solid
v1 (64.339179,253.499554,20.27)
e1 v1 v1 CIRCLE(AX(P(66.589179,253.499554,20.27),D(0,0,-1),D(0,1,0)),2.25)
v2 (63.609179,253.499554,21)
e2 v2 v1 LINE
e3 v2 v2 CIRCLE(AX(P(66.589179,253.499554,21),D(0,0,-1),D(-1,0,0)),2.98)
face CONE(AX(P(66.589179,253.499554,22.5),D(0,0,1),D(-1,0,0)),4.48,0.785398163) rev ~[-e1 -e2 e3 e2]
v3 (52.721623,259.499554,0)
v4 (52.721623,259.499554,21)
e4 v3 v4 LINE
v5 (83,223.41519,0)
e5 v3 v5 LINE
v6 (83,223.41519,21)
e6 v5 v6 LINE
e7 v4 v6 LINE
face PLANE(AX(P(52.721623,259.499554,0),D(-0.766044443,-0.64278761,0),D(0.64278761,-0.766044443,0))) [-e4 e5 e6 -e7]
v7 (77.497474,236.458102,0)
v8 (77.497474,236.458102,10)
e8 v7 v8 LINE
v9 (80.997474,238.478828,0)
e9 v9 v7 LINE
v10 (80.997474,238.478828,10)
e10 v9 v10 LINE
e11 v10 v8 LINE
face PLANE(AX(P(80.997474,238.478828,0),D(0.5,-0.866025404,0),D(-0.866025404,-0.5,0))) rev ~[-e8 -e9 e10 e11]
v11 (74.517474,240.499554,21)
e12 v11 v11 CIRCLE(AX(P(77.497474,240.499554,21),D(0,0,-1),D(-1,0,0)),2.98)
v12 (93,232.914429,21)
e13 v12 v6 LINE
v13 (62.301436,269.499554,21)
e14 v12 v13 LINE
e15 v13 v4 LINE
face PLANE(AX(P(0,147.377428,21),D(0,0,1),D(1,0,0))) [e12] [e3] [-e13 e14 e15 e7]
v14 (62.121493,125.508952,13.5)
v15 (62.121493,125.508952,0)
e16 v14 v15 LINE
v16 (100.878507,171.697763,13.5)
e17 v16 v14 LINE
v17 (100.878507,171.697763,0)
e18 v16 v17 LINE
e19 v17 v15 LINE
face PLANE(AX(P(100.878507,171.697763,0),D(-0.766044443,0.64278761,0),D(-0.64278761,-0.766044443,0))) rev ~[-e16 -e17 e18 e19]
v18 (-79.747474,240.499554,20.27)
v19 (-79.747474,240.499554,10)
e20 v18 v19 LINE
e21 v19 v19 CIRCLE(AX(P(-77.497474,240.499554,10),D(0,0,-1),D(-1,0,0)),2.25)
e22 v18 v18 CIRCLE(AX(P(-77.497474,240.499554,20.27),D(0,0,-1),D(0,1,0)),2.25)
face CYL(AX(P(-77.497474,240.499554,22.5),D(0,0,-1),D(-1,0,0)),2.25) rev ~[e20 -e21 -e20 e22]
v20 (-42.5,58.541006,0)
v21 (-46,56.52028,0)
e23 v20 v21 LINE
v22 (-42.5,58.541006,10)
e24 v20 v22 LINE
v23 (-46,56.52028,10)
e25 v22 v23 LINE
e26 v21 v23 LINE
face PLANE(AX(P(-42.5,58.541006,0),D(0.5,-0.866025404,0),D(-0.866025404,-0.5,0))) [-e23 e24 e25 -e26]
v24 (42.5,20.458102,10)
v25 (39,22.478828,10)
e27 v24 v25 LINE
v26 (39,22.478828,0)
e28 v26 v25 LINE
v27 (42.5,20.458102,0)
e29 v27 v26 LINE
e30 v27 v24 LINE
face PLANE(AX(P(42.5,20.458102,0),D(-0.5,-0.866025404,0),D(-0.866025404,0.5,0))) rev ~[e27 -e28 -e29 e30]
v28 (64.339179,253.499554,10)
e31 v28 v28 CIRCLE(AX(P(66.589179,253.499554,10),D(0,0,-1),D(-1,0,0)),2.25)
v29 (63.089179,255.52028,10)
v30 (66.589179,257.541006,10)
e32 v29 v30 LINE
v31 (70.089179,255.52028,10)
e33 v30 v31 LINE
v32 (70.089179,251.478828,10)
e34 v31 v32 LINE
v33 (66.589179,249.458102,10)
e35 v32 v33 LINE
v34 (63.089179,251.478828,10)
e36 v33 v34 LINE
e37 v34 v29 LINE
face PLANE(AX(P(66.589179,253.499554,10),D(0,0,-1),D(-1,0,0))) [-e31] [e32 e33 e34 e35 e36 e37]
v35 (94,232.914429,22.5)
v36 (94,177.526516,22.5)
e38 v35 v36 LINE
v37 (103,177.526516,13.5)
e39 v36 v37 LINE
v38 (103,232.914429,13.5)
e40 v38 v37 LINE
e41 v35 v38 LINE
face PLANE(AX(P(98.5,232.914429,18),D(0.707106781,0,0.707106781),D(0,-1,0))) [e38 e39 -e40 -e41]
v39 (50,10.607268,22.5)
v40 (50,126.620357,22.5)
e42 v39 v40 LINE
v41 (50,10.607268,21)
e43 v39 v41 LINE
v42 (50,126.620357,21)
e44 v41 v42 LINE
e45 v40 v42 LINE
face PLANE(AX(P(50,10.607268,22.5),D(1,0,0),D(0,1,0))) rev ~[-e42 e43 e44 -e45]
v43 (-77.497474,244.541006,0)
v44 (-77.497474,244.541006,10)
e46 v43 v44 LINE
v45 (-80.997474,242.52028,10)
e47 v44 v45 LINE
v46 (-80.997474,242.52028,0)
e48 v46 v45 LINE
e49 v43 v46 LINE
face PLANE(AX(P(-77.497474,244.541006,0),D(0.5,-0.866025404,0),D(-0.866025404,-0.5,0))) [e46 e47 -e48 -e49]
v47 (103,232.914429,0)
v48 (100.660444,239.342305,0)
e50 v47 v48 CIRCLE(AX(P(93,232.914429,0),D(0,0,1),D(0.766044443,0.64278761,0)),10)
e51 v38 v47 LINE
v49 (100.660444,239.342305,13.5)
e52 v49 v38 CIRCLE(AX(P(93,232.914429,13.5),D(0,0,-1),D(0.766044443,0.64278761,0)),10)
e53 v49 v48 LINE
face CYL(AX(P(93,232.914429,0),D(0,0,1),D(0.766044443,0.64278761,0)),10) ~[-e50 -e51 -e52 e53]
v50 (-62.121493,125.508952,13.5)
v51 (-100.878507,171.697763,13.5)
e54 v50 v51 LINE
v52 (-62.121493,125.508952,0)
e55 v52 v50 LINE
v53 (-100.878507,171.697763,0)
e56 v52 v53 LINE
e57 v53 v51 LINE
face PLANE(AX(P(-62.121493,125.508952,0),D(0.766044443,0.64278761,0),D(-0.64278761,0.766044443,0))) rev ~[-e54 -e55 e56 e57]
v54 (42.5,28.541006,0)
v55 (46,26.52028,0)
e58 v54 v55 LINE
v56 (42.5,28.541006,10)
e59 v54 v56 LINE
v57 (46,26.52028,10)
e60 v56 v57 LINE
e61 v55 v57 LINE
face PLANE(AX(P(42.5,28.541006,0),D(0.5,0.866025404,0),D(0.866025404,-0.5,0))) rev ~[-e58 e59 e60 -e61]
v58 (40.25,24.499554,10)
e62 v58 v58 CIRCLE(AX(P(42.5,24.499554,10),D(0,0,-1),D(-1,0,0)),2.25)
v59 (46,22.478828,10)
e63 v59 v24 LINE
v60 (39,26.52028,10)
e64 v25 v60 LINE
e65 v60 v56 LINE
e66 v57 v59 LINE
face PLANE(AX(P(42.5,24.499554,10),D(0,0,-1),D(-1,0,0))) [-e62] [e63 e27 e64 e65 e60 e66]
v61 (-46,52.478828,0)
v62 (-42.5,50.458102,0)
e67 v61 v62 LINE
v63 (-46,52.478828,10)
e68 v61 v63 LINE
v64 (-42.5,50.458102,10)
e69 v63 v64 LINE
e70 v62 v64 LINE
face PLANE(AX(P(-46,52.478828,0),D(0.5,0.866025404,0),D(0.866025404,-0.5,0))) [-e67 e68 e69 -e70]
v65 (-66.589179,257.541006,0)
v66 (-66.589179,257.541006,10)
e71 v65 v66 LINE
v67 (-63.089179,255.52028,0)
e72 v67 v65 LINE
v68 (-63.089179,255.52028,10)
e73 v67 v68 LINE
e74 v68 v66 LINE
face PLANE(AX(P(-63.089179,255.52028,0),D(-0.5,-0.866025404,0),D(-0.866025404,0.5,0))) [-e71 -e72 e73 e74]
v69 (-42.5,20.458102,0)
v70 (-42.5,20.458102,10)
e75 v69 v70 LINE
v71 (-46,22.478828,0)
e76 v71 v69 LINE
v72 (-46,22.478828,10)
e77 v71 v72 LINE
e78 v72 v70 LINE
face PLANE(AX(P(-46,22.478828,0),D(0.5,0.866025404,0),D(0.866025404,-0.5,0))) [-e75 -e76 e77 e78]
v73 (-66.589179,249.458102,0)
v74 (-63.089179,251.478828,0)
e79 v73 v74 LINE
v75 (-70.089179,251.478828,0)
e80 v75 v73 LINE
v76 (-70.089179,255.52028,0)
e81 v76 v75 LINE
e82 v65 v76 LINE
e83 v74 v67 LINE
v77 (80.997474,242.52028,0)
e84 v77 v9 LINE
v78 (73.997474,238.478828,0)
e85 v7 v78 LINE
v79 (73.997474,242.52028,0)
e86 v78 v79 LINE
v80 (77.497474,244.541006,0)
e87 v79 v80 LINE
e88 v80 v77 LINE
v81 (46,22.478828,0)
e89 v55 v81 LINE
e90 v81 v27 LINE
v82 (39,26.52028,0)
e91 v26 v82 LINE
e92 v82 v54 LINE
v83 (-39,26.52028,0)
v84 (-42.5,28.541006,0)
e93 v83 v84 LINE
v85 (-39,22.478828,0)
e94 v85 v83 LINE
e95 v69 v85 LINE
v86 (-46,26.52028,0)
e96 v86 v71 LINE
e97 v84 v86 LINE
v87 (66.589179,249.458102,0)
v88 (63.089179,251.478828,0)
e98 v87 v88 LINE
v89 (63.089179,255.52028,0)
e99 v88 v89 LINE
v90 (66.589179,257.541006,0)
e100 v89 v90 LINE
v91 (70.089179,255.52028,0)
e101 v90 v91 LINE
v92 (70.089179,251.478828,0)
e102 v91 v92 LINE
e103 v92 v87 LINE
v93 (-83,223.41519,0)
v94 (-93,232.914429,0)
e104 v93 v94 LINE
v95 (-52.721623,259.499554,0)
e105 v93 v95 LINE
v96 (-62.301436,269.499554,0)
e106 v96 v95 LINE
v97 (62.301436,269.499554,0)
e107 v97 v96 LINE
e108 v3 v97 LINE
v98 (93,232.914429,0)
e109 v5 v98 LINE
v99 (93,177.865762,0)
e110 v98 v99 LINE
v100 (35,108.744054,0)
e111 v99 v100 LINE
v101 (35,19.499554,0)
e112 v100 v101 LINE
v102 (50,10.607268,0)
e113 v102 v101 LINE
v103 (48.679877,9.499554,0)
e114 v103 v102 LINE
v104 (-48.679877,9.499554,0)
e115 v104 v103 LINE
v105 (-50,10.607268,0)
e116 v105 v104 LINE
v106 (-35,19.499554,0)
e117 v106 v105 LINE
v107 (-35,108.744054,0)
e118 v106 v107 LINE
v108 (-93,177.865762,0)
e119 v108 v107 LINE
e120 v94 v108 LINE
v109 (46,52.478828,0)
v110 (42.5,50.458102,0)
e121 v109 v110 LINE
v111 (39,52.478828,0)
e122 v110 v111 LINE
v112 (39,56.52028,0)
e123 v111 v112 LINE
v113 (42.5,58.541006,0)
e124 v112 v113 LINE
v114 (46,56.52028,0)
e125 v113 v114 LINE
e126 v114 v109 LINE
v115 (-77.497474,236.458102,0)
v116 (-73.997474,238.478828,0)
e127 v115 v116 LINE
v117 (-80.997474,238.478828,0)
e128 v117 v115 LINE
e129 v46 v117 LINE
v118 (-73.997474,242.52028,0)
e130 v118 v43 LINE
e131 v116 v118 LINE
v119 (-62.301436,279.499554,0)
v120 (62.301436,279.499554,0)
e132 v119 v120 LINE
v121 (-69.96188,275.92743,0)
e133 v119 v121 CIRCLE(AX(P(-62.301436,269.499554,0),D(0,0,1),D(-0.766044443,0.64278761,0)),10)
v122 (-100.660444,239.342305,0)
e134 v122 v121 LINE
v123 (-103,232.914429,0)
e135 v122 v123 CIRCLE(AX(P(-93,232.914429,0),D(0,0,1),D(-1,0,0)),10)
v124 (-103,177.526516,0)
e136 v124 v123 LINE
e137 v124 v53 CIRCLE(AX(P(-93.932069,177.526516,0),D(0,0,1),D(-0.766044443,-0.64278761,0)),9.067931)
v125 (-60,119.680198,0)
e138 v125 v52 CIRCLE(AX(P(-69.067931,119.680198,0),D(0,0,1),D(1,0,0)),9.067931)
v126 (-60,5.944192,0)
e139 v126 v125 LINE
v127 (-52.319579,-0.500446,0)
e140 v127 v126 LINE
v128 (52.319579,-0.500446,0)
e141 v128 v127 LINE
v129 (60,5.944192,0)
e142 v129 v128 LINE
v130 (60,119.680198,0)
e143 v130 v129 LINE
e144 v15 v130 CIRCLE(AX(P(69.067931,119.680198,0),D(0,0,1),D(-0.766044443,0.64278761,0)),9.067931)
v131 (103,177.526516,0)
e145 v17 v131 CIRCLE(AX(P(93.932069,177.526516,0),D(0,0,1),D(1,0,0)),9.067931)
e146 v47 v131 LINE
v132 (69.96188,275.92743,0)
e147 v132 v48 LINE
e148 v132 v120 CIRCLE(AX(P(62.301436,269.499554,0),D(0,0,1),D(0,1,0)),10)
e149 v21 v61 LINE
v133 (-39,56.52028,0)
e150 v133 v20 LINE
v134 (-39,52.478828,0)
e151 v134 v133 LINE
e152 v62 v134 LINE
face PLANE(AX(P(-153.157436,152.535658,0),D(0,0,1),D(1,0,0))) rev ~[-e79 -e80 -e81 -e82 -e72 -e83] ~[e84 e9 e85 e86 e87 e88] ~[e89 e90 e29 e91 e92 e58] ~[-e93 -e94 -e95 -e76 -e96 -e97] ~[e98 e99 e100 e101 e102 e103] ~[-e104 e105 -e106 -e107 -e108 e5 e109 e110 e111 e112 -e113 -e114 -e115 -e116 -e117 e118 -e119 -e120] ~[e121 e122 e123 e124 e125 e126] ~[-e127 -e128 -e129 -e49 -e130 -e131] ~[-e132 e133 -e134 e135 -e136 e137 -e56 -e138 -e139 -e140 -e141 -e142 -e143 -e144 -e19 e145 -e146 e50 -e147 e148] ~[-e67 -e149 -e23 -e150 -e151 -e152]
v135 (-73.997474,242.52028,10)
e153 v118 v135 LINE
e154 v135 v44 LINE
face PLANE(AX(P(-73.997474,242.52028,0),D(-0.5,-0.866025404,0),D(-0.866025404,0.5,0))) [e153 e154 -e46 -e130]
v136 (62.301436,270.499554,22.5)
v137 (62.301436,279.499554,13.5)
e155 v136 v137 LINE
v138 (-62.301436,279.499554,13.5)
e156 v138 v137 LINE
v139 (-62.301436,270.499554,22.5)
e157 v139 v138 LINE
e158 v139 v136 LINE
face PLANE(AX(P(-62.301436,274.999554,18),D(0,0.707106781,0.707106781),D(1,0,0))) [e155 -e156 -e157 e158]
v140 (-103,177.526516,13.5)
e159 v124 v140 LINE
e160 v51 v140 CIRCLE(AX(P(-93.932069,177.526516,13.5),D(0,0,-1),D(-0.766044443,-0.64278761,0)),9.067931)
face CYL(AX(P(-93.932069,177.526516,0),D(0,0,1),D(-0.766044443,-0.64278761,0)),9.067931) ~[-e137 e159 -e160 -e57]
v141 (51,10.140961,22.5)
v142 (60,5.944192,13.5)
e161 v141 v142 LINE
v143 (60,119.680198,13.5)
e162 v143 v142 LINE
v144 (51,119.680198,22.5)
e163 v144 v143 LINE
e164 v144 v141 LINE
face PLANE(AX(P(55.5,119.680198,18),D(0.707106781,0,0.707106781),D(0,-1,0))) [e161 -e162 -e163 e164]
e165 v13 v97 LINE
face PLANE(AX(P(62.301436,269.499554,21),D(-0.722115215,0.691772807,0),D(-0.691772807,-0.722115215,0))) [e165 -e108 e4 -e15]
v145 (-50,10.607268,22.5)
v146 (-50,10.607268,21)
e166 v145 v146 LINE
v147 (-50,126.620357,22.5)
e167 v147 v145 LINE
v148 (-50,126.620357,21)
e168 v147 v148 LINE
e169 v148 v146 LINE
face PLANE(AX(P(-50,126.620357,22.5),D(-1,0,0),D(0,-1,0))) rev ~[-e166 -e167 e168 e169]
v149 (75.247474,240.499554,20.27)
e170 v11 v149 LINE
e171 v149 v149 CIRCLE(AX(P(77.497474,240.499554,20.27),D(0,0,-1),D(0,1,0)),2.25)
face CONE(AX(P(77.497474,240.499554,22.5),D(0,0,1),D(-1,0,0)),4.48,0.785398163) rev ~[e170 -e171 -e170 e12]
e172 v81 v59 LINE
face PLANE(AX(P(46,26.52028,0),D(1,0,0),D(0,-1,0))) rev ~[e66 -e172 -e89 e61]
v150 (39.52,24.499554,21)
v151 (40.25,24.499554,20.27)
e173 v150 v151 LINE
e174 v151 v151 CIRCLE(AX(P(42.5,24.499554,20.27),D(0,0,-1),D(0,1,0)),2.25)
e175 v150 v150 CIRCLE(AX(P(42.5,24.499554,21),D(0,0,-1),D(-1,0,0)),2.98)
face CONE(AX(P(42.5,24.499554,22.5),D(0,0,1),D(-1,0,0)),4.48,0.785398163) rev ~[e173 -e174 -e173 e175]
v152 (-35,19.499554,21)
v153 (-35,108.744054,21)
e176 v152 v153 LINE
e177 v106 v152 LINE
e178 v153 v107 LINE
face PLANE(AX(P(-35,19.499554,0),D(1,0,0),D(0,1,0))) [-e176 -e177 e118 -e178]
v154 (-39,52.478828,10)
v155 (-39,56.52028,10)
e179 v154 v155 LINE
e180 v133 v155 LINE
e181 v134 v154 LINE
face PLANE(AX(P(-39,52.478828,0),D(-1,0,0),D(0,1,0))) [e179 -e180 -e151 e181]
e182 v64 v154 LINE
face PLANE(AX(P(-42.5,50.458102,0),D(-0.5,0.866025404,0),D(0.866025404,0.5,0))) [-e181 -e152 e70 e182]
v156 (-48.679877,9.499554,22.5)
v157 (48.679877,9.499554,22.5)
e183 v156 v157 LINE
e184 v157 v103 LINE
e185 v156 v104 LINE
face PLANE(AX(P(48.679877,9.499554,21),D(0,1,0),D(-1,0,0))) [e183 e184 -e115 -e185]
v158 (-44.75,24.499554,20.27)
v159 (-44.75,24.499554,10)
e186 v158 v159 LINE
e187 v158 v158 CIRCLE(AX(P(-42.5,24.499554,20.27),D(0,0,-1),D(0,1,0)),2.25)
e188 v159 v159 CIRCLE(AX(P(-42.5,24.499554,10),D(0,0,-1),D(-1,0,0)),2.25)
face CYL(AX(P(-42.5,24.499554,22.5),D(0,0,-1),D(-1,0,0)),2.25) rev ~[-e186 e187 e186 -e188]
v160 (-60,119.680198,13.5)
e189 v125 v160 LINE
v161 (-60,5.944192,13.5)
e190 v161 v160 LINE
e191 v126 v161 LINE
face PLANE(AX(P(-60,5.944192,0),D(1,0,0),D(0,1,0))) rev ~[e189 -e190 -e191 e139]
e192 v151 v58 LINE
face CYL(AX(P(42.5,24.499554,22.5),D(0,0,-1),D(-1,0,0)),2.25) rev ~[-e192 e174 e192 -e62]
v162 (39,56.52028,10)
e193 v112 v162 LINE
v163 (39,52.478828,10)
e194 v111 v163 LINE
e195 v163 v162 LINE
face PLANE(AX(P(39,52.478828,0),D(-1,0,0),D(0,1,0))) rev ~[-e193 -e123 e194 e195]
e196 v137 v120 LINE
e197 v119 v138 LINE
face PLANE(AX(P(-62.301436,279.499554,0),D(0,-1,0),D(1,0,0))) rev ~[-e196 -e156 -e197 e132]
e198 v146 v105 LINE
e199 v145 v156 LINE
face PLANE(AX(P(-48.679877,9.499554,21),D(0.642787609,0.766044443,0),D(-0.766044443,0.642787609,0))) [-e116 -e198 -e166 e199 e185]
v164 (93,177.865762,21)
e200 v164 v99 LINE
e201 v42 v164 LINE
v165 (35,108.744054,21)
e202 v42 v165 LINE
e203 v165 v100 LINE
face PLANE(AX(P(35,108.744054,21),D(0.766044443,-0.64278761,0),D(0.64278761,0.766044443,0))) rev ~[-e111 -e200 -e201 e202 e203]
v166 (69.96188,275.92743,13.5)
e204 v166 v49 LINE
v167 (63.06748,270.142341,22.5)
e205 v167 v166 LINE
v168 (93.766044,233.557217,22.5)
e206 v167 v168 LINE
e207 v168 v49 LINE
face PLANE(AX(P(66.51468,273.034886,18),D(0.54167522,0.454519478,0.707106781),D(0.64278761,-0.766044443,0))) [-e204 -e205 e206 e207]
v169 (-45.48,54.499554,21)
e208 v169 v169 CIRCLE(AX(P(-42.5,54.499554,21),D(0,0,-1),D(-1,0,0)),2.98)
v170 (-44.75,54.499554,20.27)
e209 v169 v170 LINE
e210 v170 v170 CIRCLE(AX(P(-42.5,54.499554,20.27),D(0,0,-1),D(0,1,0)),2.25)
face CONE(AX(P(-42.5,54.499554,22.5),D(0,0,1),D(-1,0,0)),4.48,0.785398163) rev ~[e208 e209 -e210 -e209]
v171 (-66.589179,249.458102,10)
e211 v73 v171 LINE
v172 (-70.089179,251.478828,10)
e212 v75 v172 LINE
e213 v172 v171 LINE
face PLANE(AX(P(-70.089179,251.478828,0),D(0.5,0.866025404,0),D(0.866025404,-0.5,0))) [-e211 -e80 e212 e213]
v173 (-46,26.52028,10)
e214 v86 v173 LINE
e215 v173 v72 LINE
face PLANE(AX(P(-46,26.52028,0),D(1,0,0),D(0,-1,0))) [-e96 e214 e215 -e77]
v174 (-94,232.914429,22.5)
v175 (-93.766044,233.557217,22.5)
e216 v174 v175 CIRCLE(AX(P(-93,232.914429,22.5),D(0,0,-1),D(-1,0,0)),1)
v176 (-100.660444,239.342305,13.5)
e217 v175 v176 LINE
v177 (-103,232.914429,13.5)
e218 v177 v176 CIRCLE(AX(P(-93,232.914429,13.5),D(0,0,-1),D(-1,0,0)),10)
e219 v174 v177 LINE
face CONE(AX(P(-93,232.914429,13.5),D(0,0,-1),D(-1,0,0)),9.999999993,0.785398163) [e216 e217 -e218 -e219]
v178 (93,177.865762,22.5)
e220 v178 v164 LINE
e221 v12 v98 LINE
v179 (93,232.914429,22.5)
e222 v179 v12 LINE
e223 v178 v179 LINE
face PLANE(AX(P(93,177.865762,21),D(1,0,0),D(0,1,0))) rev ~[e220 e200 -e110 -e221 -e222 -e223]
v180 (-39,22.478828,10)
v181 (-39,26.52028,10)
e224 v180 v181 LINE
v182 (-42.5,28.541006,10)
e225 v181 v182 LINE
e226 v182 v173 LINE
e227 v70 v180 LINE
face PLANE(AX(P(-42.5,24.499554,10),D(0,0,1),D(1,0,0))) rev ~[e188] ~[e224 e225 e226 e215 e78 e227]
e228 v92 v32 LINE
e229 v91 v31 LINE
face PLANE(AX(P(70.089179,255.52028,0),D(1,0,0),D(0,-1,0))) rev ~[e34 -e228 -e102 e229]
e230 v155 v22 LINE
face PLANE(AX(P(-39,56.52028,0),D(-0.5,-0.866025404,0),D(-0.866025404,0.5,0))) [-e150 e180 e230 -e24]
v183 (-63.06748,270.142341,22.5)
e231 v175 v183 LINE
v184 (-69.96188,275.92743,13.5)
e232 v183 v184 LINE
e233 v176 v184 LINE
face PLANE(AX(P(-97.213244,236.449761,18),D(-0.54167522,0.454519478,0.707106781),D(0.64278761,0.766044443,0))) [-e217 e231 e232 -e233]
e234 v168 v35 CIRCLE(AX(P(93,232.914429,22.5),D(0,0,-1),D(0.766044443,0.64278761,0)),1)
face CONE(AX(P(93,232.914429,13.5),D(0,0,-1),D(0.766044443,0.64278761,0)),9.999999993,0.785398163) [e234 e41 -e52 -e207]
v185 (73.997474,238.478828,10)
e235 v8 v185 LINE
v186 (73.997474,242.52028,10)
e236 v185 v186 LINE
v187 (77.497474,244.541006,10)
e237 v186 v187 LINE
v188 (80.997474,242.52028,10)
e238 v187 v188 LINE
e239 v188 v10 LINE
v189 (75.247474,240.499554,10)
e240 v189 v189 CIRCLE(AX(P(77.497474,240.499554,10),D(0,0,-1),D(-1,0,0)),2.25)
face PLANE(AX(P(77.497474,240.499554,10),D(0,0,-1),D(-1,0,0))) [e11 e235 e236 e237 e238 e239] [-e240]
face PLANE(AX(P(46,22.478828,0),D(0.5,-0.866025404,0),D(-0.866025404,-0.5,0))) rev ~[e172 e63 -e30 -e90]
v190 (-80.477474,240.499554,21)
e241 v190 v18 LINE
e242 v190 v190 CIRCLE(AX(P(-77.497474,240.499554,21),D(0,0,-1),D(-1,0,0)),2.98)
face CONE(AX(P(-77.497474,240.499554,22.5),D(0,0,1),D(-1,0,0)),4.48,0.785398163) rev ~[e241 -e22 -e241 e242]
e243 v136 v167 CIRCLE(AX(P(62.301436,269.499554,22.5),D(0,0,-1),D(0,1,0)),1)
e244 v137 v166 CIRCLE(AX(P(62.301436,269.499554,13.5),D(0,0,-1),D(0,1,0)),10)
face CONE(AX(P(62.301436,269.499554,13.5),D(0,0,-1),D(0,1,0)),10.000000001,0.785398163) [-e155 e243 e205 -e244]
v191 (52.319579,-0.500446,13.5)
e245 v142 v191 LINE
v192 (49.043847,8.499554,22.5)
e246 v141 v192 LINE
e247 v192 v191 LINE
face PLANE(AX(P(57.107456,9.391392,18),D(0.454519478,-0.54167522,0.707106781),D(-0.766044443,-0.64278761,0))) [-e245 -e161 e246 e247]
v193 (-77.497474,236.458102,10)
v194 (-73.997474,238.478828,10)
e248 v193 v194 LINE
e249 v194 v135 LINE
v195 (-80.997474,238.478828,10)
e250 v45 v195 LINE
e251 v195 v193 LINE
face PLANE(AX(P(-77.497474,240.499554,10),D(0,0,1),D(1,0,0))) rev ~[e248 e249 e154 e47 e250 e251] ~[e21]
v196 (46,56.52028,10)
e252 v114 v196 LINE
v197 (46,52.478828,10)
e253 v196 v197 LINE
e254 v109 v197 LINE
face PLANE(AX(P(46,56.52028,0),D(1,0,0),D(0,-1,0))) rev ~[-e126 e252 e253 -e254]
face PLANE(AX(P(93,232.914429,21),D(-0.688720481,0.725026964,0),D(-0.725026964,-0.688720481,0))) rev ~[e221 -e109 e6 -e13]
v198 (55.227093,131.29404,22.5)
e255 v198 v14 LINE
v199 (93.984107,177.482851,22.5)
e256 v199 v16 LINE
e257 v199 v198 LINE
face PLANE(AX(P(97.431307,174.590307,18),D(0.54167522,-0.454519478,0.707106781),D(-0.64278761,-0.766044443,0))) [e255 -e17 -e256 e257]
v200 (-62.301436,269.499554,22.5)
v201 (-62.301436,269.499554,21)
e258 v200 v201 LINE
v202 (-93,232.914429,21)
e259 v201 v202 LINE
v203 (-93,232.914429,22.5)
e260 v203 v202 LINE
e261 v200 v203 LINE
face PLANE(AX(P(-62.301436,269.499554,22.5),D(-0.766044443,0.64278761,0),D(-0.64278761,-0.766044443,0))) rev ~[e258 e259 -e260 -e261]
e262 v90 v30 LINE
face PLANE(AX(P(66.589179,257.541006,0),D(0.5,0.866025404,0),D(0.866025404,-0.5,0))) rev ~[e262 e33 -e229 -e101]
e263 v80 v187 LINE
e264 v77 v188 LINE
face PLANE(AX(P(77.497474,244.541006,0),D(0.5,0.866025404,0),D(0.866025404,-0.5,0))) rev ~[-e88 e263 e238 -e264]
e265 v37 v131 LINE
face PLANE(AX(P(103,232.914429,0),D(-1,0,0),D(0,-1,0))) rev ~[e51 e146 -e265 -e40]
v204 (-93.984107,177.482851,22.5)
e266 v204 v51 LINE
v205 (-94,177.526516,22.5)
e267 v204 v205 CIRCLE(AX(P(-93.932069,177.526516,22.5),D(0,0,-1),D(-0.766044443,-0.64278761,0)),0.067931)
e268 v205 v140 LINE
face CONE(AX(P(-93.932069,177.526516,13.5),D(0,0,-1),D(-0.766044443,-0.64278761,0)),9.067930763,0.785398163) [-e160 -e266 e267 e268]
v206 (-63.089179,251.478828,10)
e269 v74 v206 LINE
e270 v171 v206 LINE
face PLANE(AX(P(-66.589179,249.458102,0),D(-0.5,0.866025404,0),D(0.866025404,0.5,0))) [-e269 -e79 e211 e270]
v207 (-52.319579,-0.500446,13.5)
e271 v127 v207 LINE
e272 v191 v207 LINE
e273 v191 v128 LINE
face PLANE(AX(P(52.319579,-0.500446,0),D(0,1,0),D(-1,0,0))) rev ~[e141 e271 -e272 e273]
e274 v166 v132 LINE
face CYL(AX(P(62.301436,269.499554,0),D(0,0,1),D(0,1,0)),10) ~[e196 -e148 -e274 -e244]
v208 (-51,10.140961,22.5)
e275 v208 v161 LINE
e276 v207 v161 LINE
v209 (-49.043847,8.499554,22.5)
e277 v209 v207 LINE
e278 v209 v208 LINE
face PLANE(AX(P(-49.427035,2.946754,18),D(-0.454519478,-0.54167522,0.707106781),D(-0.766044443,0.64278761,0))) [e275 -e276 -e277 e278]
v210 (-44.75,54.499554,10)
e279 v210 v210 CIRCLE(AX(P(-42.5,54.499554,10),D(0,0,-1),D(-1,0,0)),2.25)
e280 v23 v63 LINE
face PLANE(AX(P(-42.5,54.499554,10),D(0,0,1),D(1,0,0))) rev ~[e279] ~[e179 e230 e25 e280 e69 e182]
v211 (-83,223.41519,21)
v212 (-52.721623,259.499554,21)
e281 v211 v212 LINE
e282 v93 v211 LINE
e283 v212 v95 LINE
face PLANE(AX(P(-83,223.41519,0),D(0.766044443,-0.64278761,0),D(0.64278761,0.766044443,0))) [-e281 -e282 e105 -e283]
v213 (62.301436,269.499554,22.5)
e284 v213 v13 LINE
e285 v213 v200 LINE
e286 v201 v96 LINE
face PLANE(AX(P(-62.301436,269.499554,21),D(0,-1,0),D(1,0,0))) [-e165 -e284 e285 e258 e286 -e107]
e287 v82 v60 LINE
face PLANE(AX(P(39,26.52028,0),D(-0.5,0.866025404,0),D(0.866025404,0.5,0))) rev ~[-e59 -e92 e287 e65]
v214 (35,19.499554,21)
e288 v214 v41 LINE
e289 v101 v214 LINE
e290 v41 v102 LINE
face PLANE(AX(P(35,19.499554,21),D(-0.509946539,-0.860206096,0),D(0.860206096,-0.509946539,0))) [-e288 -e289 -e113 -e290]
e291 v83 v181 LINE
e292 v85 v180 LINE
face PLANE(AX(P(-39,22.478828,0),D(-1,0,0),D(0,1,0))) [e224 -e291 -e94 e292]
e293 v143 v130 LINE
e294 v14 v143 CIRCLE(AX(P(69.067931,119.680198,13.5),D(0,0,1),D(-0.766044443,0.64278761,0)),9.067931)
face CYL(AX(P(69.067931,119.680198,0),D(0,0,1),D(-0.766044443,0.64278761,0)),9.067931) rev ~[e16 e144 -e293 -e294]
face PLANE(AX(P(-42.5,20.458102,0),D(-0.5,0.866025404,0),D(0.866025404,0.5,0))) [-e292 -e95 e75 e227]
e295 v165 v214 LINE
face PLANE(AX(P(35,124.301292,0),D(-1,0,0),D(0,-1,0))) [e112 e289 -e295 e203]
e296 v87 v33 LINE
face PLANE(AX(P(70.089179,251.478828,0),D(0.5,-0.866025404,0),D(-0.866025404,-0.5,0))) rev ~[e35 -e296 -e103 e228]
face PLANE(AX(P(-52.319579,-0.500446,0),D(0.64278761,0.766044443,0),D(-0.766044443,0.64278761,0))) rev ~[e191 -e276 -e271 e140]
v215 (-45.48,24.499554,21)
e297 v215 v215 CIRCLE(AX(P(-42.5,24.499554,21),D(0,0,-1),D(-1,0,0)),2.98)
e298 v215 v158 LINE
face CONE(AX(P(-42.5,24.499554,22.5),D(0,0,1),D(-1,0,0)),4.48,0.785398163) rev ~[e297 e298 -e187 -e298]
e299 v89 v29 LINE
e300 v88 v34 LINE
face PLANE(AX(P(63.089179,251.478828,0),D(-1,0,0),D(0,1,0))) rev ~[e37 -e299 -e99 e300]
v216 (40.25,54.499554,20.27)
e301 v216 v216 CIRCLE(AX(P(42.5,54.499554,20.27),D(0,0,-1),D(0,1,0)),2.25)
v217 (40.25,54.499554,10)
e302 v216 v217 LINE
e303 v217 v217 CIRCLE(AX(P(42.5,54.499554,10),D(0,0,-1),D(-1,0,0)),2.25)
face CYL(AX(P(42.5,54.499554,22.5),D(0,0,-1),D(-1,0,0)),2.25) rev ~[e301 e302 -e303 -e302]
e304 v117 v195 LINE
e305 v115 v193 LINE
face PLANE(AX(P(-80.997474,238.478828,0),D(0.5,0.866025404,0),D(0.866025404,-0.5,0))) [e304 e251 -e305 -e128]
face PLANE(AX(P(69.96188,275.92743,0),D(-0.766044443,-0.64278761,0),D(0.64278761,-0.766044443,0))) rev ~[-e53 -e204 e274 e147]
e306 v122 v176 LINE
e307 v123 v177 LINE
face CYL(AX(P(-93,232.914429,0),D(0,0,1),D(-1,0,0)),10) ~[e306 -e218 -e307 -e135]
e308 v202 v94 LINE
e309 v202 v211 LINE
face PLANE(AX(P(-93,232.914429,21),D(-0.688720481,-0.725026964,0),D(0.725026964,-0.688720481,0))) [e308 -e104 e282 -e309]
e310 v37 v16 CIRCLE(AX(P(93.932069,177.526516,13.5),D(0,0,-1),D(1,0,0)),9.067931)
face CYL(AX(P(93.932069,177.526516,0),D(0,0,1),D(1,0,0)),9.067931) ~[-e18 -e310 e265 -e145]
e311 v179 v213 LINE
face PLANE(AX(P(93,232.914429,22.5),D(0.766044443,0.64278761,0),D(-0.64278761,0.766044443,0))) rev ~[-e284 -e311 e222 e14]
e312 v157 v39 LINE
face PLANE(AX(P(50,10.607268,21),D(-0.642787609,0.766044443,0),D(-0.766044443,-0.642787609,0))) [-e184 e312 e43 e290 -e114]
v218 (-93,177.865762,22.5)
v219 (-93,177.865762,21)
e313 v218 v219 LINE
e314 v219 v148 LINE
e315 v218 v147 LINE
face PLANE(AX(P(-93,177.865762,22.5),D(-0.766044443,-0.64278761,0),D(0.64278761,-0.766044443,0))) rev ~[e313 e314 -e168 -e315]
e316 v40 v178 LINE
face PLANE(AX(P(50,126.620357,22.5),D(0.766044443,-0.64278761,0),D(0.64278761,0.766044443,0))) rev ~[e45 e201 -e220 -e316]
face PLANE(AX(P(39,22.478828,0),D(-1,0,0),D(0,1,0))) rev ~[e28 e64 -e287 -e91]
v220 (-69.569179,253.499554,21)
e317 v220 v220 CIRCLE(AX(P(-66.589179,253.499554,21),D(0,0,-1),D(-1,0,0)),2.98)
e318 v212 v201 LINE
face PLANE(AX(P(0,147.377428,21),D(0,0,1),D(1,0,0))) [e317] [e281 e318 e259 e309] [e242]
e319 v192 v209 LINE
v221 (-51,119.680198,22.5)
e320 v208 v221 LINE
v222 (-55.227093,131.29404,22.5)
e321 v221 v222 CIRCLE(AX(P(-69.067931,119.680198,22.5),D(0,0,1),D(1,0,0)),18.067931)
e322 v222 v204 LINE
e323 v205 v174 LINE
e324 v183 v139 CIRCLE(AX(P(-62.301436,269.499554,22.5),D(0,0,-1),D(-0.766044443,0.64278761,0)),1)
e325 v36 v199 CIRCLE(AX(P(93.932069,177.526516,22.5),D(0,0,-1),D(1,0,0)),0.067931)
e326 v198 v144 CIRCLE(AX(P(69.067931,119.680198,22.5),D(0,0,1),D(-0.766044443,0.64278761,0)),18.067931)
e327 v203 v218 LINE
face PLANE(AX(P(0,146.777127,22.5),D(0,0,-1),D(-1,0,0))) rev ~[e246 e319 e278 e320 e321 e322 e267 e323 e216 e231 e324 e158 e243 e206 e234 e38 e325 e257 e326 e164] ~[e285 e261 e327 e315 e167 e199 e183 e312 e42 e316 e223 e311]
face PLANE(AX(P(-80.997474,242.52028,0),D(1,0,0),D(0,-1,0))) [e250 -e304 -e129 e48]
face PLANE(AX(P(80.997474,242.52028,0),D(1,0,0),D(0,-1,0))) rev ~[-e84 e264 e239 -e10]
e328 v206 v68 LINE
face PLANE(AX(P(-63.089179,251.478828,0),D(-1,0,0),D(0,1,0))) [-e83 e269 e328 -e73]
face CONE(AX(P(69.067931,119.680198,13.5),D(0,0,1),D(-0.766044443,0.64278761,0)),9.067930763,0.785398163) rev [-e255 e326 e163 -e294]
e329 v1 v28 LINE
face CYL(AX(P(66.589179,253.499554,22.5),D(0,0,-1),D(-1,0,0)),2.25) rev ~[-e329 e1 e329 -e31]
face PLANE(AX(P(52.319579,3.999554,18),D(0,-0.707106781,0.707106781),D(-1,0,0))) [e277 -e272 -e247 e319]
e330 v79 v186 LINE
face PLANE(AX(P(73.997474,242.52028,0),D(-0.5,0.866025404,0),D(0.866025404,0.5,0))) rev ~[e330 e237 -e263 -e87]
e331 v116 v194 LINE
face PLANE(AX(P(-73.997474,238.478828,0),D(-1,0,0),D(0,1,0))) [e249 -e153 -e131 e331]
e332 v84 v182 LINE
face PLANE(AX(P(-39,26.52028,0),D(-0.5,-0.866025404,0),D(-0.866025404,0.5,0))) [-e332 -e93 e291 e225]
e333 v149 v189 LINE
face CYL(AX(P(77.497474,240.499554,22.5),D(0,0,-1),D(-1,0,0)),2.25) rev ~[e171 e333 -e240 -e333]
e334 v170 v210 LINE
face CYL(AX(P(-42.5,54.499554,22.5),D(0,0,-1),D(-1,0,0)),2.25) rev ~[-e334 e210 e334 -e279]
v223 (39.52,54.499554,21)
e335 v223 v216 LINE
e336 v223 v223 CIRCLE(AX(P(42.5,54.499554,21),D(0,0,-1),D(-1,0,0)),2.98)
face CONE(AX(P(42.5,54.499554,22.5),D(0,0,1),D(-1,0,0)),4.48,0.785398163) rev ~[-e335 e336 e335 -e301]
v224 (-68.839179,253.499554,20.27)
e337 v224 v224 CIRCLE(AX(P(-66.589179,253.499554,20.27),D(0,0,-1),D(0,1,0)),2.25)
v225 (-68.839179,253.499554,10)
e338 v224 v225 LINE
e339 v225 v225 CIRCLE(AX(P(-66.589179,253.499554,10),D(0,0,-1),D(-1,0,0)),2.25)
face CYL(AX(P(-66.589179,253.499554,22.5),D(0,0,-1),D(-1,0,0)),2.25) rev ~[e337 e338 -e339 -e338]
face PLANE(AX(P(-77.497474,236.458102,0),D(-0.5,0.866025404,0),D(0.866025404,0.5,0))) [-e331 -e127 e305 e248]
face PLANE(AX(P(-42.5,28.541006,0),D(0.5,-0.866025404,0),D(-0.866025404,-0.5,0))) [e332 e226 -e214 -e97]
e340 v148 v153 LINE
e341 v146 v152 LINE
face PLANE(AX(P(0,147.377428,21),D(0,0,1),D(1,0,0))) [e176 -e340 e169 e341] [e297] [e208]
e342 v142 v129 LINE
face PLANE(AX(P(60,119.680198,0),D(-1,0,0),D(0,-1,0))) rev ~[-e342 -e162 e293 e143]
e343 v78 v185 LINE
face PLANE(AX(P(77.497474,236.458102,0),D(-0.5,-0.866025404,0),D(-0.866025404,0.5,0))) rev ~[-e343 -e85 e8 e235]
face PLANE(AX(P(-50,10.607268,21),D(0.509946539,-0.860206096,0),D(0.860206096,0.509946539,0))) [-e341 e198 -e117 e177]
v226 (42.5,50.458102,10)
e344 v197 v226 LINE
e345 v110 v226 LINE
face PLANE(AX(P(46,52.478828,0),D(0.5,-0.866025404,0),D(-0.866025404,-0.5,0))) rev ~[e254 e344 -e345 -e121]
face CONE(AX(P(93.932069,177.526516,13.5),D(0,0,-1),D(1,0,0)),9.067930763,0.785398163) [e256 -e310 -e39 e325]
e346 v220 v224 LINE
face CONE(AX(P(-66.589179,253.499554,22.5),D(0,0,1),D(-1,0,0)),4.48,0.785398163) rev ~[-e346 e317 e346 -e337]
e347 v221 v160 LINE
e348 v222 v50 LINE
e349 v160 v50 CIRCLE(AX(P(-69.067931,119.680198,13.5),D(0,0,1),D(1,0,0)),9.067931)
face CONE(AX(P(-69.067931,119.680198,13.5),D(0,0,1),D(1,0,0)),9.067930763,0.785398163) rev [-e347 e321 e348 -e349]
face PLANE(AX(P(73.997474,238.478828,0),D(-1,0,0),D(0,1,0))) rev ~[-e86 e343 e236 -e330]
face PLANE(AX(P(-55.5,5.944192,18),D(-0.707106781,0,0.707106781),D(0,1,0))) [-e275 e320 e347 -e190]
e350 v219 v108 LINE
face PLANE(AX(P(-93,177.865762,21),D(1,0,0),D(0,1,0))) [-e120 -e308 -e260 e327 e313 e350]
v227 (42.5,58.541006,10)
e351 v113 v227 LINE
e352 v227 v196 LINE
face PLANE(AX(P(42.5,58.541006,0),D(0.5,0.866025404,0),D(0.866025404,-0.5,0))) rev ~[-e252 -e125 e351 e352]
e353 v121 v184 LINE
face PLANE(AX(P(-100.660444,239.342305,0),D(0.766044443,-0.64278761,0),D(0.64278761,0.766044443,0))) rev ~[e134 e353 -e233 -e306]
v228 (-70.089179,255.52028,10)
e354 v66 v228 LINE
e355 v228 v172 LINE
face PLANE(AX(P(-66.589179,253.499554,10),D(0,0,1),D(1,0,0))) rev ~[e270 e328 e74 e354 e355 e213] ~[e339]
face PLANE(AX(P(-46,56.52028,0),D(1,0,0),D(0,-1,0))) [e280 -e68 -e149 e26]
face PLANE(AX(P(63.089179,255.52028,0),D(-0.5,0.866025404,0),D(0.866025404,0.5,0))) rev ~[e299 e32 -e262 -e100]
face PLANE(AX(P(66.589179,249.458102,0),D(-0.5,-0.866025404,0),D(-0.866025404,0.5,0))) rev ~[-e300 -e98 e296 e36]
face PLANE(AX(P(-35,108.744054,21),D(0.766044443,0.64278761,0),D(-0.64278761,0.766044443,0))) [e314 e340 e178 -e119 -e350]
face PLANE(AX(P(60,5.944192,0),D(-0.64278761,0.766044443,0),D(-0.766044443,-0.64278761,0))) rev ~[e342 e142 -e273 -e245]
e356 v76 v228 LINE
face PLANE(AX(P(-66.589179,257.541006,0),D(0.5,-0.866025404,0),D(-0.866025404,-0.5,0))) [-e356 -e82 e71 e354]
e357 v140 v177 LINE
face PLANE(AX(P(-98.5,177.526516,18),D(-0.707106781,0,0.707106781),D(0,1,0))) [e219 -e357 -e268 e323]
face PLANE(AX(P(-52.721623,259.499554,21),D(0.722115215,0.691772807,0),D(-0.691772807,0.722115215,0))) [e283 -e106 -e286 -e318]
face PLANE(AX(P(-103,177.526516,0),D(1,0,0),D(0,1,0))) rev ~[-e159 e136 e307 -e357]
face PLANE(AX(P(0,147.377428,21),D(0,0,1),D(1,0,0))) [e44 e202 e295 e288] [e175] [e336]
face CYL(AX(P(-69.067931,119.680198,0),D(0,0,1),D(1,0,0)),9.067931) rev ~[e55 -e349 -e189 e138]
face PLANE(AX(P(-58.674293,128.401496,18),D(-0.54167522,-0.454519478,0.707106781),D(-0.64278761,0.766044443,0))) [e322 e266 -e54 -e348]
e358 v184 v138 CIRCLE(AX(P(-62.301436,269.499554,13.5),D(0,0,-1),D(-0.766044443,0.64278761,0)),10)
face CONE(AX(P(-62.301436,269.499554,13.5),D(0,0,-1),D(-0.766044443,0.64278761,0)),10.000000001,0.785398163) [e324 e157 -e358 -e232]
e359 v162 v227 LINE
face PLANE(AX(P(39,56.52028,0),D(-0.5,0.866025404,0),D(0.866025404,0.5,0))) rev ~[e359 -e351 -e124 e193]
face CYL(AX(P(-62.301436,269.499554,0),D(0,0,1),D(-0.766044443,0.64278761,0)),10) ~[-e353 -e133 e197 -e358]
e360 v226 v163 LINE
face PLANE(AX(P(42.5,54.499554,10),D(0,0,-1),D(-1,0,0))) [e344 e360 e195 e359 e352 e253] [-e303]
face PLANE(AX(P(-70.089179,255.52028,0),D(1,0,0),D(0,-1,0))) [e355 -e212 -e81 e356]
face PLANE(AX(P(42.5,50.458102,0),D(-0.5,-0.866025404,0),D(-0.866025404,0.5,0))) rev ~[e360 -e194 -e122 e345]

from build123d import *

# Parameters (mm, degrees)
RESSALTO_EXTRUS_O1_DEPTH                            = 22.5
CHANFRO1_SIZE                                       = 9
CORTE_EXTRUS_O1_REACH                               = 24.5
ESBO_O3_W                                           = 1139.230904301
ESBO_O3_H                                           = 709.798033895
CORTE_EXTRUS_O5_DEPTH                               = 1.5
CORTE_EXTRUS_O6_REACH                               = 23
ESCAREADO_PARA_PARAFUSO_ALLEN_SEXTAVADO_D           = 4.5
ESCAREADO_PARA_PARAFUSO_ALLEN_SEXTAVADO_CSINK_D     = 8.96
ESCAREADO_PARA_PARAFUSO_ALLEN_SEXTAVADO_CSINK_ANGLE = 90
CORTE_EXTRUS_O7_DEPTH                               = 10


with BuildPart() as part:
    # Esboço1 → Ressalto-extrusão1 (new body, symmetric)
    with BuildSketch(Plane.XY):
        with BuildLine():
            Line((-62.301435521, 279.499553668), (62.301435521, 279.499553668))
            ThreePointArc((62.301435521, 279.499553668), (66.527618138, 278.562631538), (69.961879952, 275.927429764))
            Line((69.961879952, 275.927429764), (100.660444431, 239.342305259))
            ThreePointArc((100.660444431, 239.342305259), (102.396926208, 236.334630596), (103, 232.914429162))
            Line((103, 232.914429162), (103, 177.526516487))
            ThreePointArc((103, 177.526516487), (102.453136861, 174.425101506), (100.878507208, 171.697762944))
            Line((100.878507208, 171.697762944), (62.121492792, 125.508951777))
            ThreePointArc((62.121492792, 125.508951777), (60.546863139, 122.781613215), (60, 119.680198234))
            Line((60, 119.680198234), (60, 5.944191717))
            Line((60, 5.944191717), (52.319579452, -0.500446332))
            Line((52.319579452, -0.500446332), (-52.319579452, -0.500446332))
            Line((-52.319579452, -0.500446332), (-60, 5.944191717))
            Line((-60, 5.944191717), (-60, 119.680198234))
            ThreePointArc((-60, 119.680198234), (-60.546863139, 122.781613215), (-62.121492792, 125.508951777))
            Line((-62.121492792, 125.508951777), (-100.878507208, 171.697762944))
            ThreePointArc((-100.878507208, 171.697762944), (-102.453136861, 174.425101506), (-103, 177.526516487))
            Line((-103, 177.526516487), (-103, 232.914429162))
            ThreePointArc((-103, 232.914429162), (-102.396926208, 236.334630596), (-100.660444431, 239.342305259))
            Line((-100.660444431, 239.342305259), (-69.961879952, 275.927429764))
            ThreePointArc((-69.961879952, 275.927429764), (-66.527618138, 278.562631538), (-62.301435521, 279.499553668))
        make_face()
        Polygon((-52.721623425, 259.499553668), (52.721623425, 259.499553668), (83, 223.415189606), (83, 181.505464287), (35, 124.301291842), (35, 19.499553668), (-35, 19.499553668), (-35, 124.301291842), (-83, 181.505464287), (-83, 223.415189606), align=None, mode=Mode.SUBTRACT)
    extrude(amount=RESSALTO_EXTRUS_O1_DEPTH, both=True)

    # Chanfro1
    chanfro1_edges = [part.edges().sort_by_distance(p)[0] for p in [
        (0, -0.500446332, 22.5),
        (56.159789726, 2.721872692, 22.5),
        (60, 62.812194975, 22.5),
        (60.546863139, 122.781613215, 22.5),
        (81.5, 148.603357361, 22.5),
        (102.453136861, 174.425101506, 22.5),
        (103, 205.220472825, 22.5),
        (102.396926208, 236.334630596, 22.5),
        (85.311162192, 257.634867512, 22.5),
        (66.527618138, 278.562631538, 22.5),
        (0, 279.499553668, 22.5),
        (-66.527618138, 278.562631538, 22.5),
        (-85.311162192, 257.634867512, 22.5),
        (-102.396926208, 236.334630596, 22.5),
        (-103, 205.220472825, 22.5),
        (-102.453136861, 174.425101506, 22.5),
        (-81.5, 148.603357361, 22.5),
        (-60.546863139, 122.781613215, 22.5),
        (-60, 62.812194975, 22.5),
        (-56.159789726, 2.721872692, 22.5),
    ]]
    chamfer(chanfro1_edges, length=CHANFRO1_SIZE)

    # Esboço3 → Corte-extrusão1 (cut, up to next)
    with BuildSketch(Plane.XY, mode=Mode.PRIVATE) as corte_extrus_o1_sk1:
        with Locations((-153.157436203, 152.53565808)):
            Rectangle(ESBO_O3_W, ESBO_O3_H)
    corte_extrus_o1_tool1 = extrude(corte_extrus_o1_sk1.sketch, amount=-CORTE_EXTRUS_O1_REACH, mode=Mode.PRIVATE) & part.part
    add(corte_extrus_o1_tool1.solids().sort_by_distance((-153.157436, 152.535658, 0))[0], mode=Mode.SUBTRACT)

    # Esboço4 → Corte-extrusão5 (cut)
    with BuildSketch(Plane.XY.offset(22.5)):
        Polygon((62.301435521, 269.499553668), (-62.301435521, 269.499553668), (-93, 232.914429162), (-93, 177.865761944), (-50, 126.620357463), (-50, 10.607268298), (-48.679877109, 9.499553668), (48.679877109, 9.499553668), (50, 10.607268298), (50, 126.620357463), (93, 177.865761944), (93, 232.914429162), align=None)
        Polygon((35, 19.499553668), (-35, 19.499553668), (-35, 124.301291842), (-83, 181.505464287), (-83, 223.415189606), (-52.721623425, 259.499553668), (52.721623425, 259.499553668), (83, 223.415189606), (83, 181.505464287), (35, 124.301291842), align=None, mode=Mode.SUBTRACT)
    extrude(amount=-CORTE_EXTRUS_O5_DEPTH, mode=Mode.SUBTRACT)

    # Esboço5 → Corte-extrusão6 (cut, up to next)
    with BuildSketch(Plane.XY.offset(21), mode=Mode.PRIVATE) as corte_extrus_o6_sk1:
        Polygon((-93, 232.914429162), (-83, 223.415189606), (-83, 181.505464287), (-35, 124.301291842), (-35, 108.744053574), (-93, 177.865761944), align=None)
    corte_extrus_o6_tool1 = extrude(corte_extrus_o6_sk1.sketch, amount=-CORTE_EXTRUS_O6_REACH, mode=Mode.PRIVATE) & part.part
    add(corte_extrus_o6_tool1.solids().sort_by_distance((-88.943881, 227.171171, 21))[0], mode=Mode.SUBTRACT)
    # Esboço5 → Corte-extrusão6 (cut, up to next)
    with BuildSketch(Plane.XY.offset(21), mode=Mode.PRIVATE) as corte_extrus_o6_sk2:
        Polygon((-52.721623425, 259.499553668), (-62.301435521, 269.499553668), (62.301435521, 269.499553668), (52.721623425, 259.499553668), align=None)
    corte_extrus_o6_tool2 = extrude(corte_extrus_o6_sk2.sketch, amount=-CORTE_EXTRUS_O6_REACH, mode=Mode.PRIVATE) & part.part
    add(corte_extrus_o6_tool2.solids().sort_by_distance((0, 264.638364, 21))[0], mode=Mode.SUBTRACT)
    # Esboço5 → Corte-extrusão6 (cut, up to next)
    with BuildSketch(Plane.XY.offset(21), mode=Mode.PRIVATE) as corte_extrus_o6_sk3:
        Polygon((-50, 10.607268298), (-35, 19.499553668), (35, 19.499553668), (50, 10.607268298), (48.679877109, 9.499553668), (-48.679877109, 9.499553668), align=None)
    corte_extrus_o6_tool3 = extrude(corte_extrus_o6_sk3.sketch, amount=-CORTE_EXTRUS_O6_REACH, mode=Mode.PRIVATE) & part.part
    add(corte_extrus_o6_tool3.solids().sort_by_distance((0, 14.193497, 21))[0], mode=Mode.SUBTRACT)
    # Esboço5 → Corte-extrusão6 (cut, up to next)
    with BuildSketch(Plane.XY.offset(21), mode=Mode.PRIVATE) as corte_extrus_o6_sk4:
        Polygon((35, 108.744053574), (93, 177.865761944), (93, 232.914429162), (83, 223.415189606), (83, 181.505464287), (35, 124.301291842), align=None)
    corte_extrus_o6_tool4 = extrude(corte_extrus_o6_sk4.sketch, amount=-CORTE_EXTRUS_O6_REACH, mode=Mode.PRIVATE) & part.part
    add(corte_extrus_o6_tool4.solids().sort_by_distance((62.950148, 144.185838, 21))[0], mode=Mode.SUBTRACT)

    # Escareado para parafuso Allen sextavado escareado de M41 (through all)
    with Locations(Plane(origin=(-66.589178595, 253.499553668, 22.5), x_dir=(1, 0, 0), z_dir=(0, 0, 1))):
        with Locations((0, 0), (-10.908295205, -13), (133.17835719, 0), (144.086652395, -13), (24.089178595, -199), (24.089178595, -229), (109.089178595, -229), (109.089178595, -199)):
            CounterSinkHole(ESCAREADO_PARA_PARAFUSO_ALLEN_SEXTAVADO_D / 2, ESCAREADO_PARA_PARAFUSO_ALLEN_SEXTAVADO_CSINK_D / 2, counter_sink_angle=ESCAREADO_PARA_PARAFUSO_ALLEN_SEXTAVADO_CSINK_ANGLE)

    # Esboço9 → Corte-extrusão7 (cut)
    with BuildSketch(Plane(origin=(0, 0, 0), x_dir=(-1, 0, 0), z_dir=(0, 0, -1))):
        Polygon((-66.589178595, 257.541005552), (-70.089178595, 255.52027961), (-70.089178595, 251.478827725), (-66.589178595, 249.458101783), (-63.089178595, 251.478827725), (-63.089178595, 255.52027961), align=None)
        Polygon((-77.4974738, 244.541005552), (-80.9974738, 242.52027961), (-80.9974738, 238.478827725), (-77.4974738, 236.458101783), (-73.9974738, 238.478827725), (-73.9974738, 242.52027961), align=None)
        Polygon((-42.5, 58.541005552), (-46, 56.52027961), (-46, 52.478827725), (-42.5, 50.458101783), (-39, 52.478827725), (-39, 56.52027961), align=None)
        Polygon((-42.5, 28.541005552), (-46, 26.52027961), (-46, 22.478827725), (-42.5, 20.458101783), (-39, 22.478827725), (-39, 26.52027961), align=None)
        Polygon((39, 26.52027961), (42.5, 28.541005552), (46, 26.52027961), (46, 22.478827725), (42.5, 20.458101783), (39, 22.478827725), align=None)
        Polygon((39, 56.52027961), (42.5, 58.541005552), (46, 56.52027961), (46, 52.478827725), (42.5, 50.458101783), (39, 52.478827725), align=None)
        Polygon((73.9974738, 242.52027961), (77.4974738, 244.541005552), (80.9974738, 242.52027961), (80.9974738, 238.478827725), (77.4974738, 236.458101783), (73.9974738, 238.478827725), align=None)
        Polygon((63.089178595, 255.52027961), (66.589178595, 257.541005552), (70.089178595, 255.52027961), (70.089178595, 251.478827725), (66.589178595, 249.458101783), (63.089178595, 251.478827725), align=None)
    extrude(amount=-CORTE_EXTRUS_O7_DEPTH, mode=Mode.SUBTRACT)


solid = part.part
